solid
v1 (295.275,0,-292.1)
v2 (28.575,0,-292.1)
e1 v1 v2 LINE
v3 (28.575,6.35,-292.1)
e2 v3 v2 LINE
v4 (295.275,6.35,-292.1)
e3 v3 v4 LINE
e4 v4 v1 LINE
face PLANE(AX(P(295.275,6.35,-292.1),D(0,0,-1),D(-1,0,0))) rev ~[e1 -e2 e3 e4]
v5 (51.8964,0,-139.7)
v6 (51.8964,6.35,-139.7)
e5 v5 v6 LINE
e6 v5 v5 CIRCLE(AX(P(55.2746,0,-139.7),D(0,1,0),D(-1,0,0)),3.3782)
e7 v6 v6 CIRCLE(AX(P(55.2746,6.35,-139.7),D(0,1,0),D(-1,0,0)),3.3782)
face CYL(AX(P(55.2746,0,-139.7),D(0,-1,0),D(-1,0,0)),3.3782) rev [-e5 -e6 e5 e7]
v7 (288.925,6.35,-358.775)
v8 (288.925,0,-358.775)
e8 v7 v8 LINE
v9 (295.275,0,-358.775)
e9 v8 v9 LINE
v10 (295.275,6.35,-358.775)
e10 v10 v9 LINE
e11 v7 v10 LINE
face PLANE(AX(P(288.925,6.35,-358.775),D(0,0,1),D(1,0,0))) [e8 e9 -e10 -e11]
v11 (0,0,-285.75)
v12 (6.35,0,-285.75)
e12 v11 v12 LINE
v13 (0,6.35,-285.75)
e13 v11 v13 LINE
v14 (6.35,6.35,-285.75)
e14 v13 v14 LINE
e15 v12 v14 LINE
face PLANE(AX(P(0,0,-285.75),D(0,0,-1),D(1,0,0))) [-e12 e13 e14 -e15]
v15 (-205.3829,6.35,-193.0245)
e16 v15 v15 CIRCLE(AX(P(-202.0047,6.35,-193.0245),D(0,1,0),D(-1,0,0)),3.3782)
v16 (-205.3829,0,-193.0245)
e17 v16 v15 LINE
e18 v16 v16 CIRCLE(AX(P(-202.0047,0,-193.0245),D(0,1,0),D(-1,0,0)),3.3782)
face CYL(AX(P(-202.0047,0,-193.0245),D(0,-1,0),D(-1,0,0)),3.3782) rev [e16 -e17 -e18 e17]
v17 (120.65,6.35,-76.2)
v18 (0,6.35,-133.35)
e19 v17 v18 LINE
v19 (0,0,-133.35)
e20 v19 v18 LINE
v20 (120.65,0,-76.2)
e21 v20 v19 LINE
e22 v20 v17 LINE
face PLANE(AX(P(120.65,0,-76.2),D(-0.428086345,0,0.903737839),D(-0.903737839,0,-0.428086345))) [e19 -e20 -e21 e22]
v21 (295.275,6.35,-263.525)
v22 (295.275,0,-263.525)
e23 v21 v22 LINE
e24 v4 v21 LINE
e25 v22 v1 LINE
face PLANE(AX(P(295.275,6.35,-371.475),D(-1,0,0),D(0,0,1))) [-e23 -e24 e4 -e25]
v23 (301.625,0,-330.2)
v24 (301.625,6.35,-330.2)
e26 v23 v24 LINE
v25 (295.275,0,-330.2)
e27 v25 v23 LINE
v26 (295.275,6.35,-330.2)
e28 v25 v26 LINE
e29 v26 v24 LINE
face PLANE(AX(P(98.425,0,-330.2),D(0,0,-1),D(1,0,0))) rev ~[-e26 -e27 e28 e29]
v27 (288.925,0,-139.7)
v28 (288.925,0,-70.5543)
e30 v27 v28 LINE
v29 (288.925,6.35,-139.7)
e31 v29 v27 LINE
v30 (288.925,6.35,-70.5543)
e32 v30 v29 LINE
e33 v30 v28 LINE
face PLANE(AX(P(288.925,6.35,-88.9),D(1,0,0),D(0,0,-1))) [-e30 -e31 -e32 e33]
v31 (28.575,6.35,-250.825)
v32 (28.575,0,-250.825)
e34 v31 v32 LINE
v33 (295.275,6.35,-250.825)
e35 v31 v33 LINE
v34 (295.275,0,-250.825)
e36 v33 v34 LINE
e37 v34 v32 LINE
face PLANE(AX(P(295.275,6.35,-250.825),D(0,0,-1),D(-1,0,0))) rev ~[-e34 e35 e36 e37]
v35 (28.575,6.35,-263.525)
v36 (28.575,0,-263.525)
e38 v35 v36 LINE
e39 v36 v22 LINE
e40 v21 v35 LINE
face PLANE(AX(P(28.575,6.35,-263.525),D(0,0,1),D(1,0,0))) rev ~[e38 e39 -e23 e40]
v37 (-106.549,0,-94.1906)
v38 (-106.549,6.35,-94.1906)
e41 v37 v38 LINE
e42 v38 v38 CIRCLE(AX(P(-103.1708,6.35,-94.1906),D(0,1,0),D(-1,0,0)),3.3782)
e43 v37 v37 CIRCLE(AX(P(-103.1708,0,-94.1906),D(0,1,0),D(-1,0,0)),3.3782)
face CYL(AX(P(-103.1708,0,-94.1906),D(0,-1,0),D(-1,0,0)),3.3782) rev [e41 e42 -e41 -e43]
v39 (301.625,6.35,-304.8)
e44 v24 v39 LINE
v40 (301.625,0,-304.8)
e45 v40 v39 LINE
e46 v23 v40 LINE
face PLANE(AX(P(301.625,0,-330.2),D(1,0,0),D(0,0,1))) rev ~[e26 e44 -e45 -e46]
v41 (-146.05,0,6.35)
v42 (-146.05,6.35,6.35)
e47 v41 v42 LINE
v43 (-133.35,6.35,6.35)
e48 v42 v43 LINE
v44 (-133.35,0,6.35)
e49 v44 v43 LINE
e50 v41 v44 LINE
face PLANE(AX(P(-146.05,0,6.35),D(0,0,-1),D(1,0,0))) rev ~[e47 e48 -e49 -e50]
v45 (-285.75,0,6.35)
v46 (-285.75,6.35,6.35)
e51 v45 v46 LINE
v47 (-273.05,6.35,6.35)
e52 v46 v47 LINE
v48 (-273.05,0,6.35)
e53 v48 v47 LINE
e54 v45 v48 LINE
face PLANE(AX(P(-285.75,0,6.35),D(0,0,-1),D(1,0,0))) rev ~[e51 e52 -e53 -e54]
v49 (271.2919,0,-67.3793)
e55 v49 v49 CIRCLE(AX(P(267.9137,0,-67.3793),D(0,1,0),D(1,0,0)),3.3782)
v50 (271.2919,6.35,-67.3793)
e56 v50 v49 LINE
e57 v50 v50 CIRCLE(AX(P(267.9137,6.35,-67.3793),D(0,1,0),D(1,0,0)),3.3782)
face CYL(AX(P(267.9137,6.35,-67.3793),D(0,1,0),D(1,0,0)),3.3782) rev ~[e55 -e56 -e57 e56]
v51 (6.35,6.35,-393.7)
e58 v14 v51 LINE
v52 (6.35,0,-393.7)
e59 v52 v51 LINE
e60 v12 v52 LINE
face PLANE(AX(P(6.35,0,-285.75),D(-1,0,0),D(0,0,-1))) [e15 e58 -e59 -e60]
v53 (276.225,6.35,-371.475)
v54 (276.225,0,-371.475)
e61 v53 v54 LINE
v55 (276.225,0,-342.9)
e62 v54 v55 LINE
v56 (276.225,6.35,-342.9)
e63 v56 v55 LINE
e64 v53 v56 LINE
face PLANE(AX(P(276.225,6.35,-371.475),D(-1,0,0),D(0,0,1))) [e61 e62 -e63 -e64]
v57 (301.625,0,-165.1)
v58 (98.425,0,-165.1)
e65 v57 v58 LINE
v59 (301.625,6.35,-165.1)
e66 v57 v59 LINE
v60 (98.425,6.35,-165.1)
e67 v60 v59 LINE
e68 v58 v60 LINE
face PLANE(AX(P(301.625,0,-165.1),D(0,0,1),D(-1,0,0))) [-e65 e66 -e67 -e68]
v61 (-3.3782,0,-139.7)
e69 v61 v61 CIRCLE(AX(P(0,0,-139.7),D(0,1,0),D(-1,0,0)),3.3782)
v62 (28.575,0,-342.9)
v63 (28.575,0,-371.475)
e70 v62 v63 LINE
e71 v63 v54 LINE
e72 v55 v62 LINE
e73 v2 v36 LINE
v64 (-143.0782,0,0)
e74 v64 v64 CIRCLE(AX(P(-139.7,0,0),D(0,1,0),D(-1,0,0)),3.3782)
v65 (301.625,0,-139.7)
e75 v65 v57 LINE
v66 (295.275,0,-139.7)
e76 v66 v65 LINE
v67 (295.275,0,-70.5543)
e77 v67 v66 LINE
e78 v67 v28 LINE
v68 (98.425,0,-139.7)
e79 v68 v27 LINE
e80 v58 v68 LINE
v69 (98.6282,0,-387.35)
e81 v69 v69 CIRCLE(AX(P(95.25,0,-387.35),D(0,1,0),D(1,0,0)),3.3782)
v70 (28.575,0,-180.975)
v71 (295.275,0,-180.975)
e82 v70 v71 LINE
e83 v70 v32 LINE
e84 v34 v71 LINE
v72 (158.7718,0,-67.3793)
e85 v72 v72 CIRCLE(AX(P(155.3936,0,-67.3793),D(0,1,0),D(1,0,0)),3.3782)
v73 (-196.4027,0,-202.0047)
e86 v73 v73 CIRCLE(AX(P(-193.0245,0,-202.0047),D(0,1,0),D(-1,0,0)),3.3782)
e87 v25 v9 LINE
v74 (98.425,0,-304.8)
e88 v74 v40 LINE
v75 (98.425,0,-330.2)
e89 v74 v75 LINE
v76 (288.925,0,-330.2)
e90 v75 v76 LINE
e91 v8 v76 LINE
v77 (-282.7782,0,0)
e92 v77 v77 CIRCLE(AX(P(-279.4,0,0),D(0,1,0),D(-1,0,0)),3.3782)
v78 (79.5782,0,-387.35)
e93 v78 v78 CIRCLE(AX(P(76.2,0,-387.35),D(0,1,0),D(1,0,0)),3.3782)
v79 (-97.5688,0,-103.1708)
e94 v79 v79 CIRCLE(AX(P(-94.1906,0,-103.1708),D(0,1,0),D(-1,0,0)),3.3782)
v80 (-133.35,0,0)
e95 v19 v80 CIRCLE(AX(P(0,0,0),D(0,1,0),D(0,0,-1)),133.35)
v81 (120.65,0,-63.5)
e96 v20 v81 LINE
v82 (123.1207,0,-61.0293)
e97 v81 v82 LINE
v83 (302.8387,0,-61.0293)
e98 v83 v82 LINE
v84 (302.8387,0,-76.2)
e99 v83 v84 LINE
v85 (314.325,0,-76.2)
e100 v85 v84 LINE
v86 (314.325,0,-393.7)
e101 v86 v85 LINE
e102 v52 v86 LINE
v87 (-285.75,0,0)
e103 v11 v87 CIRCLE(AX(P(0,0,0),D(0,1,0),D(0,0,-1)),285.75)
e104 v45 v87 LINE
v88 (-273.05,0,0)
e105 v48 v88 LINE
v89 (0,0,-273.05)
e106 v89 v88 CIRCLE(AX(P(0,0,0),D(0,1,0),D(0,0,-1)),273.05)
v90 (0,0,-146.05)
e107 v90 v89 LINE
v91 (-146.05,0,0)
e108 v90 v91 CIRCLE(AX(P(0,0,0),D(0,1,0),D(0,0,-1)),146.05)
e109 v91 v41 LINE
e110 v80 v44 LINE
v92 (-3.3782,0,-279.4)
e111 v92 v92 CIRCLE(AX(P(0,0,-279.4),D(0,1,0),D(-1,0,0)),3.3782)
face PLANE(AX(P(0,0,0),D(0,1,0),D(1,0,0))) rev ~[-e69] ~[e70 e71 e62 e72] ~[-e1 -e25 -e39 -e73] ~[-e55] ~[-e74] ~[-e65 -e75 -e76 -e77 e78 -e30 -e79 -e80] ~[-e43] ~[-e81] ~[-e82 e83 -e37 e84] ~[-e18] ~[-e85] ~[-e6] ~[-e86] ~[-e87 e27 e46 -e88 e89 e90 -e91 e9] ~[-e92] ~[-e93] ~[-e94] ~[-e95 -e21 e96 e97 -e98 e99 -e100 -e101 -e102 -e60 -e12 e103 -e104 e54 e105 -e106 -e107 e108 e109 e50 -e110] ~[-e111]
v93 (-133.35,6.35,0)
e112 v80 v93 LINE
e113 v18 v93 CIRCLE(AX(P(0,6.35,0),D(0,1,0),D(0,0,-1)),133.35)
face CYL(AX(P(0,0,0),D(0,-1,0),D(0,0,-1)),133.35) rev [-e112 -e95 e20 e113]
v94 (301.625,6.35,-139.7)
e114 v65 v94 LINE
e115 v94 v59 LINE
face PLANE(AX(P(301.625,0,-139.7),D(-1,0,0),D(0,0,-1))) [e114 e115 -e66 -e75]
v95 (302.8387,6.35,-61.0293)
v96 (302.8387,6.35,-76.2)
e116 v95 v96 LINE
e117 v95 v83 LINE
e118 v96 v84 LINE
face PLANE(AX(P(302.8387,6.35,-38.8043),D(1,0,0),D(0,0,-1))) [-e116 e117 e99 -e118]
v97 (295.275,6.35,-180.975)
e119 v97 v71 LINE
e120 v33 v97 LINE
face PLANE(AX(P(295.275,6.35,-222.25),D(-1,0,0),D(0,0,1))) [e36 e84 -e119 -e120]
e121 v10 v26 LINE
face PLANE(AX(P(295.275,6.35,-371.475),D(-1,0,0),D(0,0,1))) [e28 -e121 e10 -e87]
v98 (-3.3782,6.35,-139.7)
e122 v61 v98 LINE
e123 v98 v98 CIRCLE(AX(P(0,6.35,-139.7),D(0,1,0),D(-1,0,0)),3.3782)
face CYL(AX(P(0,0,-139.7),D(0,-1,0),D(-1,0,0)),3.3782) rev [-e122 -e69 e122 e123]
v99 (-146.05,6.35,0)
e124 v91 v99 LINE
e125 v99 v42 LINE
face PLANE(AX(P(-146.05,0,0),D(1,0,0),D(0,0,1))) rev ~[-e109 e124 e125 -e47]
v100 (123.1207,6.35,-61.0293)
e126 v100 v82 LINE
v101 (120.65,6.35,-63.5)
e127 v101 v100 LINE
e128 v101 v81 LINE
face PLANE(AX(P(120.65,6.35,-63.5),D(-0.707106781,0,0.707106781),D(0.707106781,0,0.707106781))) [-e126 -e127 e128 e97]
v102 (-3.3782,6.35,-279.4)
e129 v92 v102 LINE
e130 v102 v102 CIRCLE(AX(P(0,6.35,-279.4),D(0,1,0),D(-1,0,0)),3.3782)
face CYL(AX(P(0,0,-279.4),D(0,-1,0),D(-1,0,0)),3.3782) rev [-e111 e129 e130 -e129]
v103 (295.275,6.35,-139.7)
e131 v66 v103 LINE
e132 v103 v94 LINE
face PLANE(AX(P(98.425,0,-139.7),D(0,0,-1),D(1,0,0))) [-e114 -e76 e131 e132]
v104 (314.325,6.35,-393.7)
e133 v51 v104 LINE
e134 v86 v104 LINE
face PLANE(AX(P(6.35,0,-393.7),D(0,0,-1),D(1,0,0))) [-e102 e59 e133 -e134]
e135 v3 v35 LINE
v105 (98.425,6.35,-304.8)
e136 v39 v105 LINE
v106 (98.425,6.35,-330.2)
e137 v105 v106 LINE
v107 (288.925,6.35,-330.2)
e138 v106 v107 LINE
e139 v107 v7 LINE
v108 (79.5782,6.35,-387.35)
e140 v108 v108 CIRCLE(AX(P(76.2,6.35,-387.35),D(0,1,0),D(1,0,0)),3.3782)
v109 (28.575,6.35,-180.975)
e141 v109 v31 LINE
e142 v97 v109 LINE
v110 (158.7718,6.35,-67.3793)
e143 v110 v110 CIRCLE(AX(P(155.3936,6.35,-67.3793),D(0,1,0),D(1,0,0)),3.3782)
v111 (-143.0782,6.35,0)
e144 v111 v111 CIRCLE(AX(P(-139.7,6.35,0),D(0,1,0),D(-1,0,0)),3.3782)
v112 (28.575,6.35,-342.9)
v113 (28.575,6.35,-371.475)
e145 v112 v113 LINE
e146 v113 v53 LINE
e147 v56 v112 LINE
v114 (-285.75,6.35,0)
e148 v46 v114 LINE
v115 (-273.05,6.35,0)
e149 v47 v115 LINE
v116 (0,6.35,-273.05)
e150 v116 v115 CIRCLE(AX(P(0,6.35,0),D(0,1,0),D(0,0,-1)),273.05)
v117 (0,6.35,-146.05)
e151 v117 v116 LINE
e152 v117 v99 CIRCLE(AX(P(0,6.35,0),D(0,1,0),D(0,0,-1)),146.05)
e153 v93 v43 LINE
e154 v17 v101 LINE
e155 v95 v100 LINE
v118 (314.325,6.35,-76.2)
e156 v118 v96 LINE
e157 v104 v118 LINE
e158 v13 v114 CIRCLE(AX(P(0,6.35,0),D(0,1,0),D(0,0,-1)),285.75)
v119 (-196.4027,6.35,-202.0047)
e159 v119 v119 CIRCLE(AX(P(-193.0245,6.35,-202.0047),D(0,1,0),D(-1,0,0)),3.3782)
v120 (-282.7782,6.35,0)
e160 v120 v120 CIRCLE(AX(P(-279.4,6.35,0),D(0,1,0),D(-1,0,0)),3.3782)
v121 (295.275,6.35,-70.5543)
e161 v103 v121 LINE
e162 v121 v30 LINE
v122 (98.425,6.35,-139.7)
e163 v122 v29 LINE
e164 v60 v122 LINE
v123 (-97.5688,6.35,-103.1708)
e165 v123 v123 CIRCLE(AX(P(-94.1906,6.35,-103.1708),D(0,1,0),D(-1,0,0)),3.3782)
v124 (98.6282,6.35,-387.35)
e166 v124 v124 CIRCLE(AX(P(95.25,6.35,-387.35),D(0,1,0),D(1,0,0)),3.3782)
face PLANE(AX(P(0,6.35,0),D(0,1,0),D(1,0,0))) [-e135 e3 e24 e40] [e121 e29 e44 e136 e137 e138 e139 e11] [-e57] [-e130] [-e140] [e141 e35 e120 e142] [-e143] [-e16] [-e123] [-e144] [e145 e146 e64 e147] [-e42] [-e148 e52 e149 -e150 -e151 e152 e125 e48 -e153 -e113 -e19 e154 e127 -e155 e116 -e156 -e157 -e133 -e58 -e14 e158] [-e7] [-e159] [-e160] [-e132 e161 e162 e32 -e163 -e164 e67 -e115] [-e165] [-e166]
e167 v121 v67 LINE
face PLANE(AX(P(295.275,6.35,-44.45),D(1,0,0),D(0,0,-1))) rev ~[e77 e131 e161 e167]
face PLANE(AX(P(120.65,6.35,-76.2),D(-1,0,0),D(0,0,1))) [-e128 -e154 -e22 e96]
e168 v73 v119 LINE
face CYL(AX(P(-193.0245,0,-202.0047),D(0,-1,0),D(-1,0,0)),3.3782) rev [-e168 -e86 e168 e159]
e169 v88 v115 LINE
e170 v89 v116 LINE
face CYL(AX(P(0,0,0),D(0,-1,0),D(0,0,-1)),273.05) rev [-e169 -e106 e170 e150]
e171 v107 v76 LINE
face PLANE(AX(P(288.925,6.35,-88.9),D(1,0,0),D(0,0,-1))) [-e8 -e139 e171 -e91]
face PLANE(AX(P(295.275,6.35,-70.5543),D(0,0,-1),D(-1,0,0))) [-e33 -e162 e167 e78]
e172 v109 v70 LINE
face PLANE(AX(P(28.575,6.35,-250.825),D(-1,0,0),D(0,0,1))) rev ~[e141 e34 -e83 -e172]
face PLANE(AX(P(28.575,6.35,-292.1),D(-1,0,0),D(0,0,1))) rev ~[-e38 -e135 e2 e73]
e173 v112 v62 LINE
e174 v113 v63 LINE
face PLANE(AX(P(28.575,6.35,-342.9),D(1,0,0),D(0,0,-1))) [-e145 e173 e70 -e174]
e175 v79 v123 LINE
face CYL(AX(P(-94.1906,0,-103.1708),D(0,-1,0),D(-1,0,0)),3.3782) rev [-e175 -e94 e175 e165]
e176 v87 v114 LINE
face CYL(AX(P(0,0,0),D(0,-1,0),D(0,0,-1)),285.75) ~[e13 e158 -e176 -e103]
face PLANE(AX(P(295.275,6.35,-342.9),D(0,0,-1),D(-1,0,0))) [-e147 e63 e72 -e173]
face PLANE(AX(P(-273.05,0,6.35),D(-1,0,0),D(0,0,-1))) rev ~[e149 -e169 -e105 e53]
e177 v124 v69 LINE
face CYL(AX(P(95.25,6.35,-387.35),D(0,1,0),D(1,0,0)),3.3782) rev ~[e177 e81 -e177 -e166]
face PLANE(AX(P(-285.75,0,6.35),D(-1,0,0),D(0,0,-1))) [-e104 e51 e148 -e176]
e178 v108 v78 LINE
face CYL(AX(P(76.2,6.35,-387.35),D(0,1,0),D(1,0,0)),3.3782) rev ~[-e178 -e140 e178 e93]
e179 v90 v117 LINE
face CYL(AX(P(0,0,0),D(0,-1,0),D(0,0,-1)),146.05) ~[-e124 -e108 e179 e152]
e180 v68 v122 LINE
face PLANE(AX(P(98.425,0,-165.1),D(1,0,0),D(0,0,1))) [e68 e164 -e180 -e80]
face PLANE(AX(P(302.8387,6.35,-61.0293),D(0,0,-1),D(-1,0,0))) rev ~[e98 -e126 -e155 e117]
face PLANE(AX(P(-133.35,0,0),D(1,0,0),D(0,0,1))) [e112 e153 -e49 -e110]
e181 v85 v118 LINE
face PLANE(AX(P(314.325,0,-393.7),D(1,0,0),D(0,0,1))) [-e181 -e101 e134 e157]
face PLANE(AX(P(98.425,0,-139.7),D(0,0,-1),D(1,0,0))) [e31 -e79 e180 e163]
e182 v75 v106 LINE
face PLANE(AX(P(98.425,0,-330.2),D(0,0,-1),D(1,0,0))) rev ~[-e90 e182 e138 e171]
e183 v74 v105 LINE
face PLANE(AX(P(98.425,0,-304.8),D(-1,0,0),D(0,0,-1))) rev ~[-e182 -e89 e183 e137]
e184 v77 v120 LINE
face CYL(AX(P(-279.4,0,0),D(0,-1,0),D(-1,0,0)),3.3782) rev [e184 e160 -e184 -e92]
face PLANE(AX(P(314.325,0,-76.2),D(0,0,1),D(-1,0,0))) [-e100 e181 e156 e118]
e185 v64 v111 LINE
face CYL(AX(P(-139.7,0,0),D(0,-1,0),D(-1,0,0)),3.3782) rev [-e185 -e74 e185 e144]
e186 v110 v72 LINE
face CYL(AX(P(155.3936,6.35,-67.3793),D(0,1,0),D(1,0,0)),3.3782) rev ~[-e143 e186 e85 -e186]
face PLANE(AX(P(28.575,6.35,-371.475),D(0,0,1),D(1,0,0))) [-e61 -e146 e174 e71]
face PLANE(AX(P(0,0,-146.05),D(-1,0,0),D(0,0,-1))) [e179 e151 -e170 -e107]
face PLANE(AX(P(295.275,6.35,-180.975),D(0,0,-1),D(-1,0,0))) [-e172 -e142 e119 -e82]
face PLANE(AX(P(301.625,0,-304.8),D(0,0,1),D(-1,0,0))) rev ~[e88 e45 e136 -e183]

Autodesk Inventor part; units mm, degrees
ref_plane "YZ Plane" through (0, 0, 0) normal (1, 0, 0) x (0, 1, 0)
ref_plane "XZ Plane" through (0, 0, 0) normal (0, 1, 0) x (-1, 0, 0)
ref_plane "XY Plane" through (0, 0, 0) normal (0, 0, 1) x (1, 0, 0)
sketch "Sketch1" plane through (0, 0, 0) normal (0, 1, 0) x (-1, 0, 0)
  arc A0 (0, -273.05) -> (273.05, 0) centre (0, 0) ccw
  arc A1 (0, -285.75) -> (285.75, 0) centre (0, 0) ccw
  arc A2 (0, -146.05) -> (146.05, 0) centre (0, 0) ccw
  arc A3 (0, -133.35) -> (133.35, 0) centre (0, 0) ccw
  line L0 (0, -285.75) -> (-6.35, -285.75)
  line L1 (146.05, 0) -> (146.05, 6.35)
  line L2 (133.35, 0) -> (133.35, 6.35)
  line L3 (273.05, 6.35) -> (273.05, 0)
  line L4 (285.75, 6.35) -> (285.75, 0)
  circle A4 centre (103.1708, -94.1906) radius 3.3782
  circle A5 centre (94.1906, -103.1708) radius 3.3782
  circle A6 centre (279.4, 0) radius 3.3782
  circle A7 centre (139.7, 0) radius 3.3782
  circle A8 centre (202.0047, -193.0245) radius 3.3782
  circle A9 centre (193.0245, -202.0047) radius 3.3782
  circle A10 centre (0, -279.4) radius 3.3782
  circle A11 centre (0, -139.7) radius 3.3782
  circle A12 centre (-55.2746, -139.7) radius 3.3782
  circle A13 centre (-78.3684, -279.4) radius 3.3782
  line L5 (285.75, 6.35) -> (273.05, 6.35)
  line L6 (146.05, 6.35) -> (133.35, 6.35)
  line L7 (-314.96, -285.75) -> (-314.96, -273.05)
  line L8 (-101.6, -133.35) -> (-127, -133.35)
  line L9 (-127, -146.05) -> (-101.6, -146.05)
  line L10 (-314.96, -146.05) -> (-314.96, -133.35)
  line L11 (-6.35, -285.75) -> (-6.35, -393.7)
  line L12 (-6.35, -393.7) -> (-314.325, -393.7)
  line L13 (-314.325, -393.7) -> (-314.325, -76.2)
  line L14 (-314.325, -76.2) -> (-120.65, -76.2)
  line L15 (-120.65, -76.2) -> (0, -133.35)
  line L16 (0, -285.75) -> (-6.35, -285.75)
  line L17 (0, -146.05) -> (0, -273.05)
  dimension "d10" = 12.7
  dimension "d11" = 12.7
  dimension "d13" = 12.7
  dimension "d14" = 6.7564
  dimension "d15" = 6.7564
  dimension "d16" = 6.7564
  dimension "d18" = 6.7564
  dimension "d20" = 6.35
  dimension "d21" = 6.7564
  dimension "d22" = 6.7564
  dimension "d23" = 6.7564
  dimension "d26" = 6.7564
  dimension "d30" = 6.7564
  dimension "d32" = 6.7564
  dimension "d66" = 25.4
  dimension "d67" = 0
  dimension "d72" = 12.7
  dimension "d81" = 107.95
  dimension "d82" = 133.35
  dimension "d83" = 279.4
  dimension "d84" = 6.35
  dimension "d85" = 317.5
  dimension "d86" = 193.675
  dimension "d87" = 55.2746
  dimension "d88" = 139.7
  dimension "d91" = 307.975
extrude "Extrusion7" add sketch "Sketch1" along normal blind 6.35
sketch "Sketch7" plane through (0, 0, 0) normal (0, -1, 0) x (1, 0, 0)
  line L0 (0, -273.05) -> (0, -146.05) projected
  line L1 (314.325, -76.2) -> (314.325, -393.7) projected
  line L2 (314.325, -234.95) -> (0, -234.95)
  line L3 (301.625, -139.7) -> (301.625, -165.1)
  line L4 (301.625, -165.1) -> (98.425, -165.1)
  line L5 (98.425, -165.1) -> (98.425, -139.7)
  line L6 (98.425, -139.7) -> (301.625, -139.7)
  line L7 (301.625, -330.2) -> (301.625, -304.8)
  line L8 (301.625, -304.8) -> (98.425, -304.8)
  line L9 (98.425, -304.8) -> (98.425, -330.2)
  line L10 (98.425, -330.2) -> (301.625, -330.2)
  dimension "d92" = 25.4
  dimension "d93" = 203.2
  dimension "d94" = 12.7
  dimension "d95" = 69.85
extrude "Extrusion8" cut sketch "Sketch7" against normal blind 6.35
sketch "Sketch8" plane through (0, 6.35, 0) normal (0, 1, 0) x (1, 0, 0)
  line L0 (98.425, 165.1) -> (301.625, 165.1) projected
  line L1 (301.625, 304.8) -> (98.425, 304.8) projected
  circle A0 centre (78.3684, 279.4) radius 3.3782 projected
  line L2 (314.325, 76.2) -> (314.325, 393.7) projected
  line L3 (314.325, 393.7) -> (6.35, 393.7) projected
  line L4 (0, 273.05) -> (0, 146.05) projected
  line L5 (295.275, 367.3082) -> (295.275, 342.9)
  line L6 (295.275, 342.9) -> (28.575, 342.9)
  line L7 (28.575, 342.9) -> (28.575, 371.475)
  line L8 (28.575, 371.475) -> (295.275, 371.475)
  line L9 (295.275, 371.475) -> (295.275, 367.3082)
  line L10 (295.275, 292.1) -> (28.575, 292.1)
  line L11 (28.575, 292.1) -> (28.575, 263.525)
  line L12 (28.575, 263.525) -> (295.275, 263.525)
  line L13 (295.275, 263.525) -> (295.275, 292.1)
  line L14 (295.275, 250.825) -> (28.575, 250.825)
  line L15 (28.575, 250.825) -> (28.575, 222.25)
  line L16 (28.575, 222.25) -> (295.275, 222.25)
  line L17 (295.275, 222.25) -> (295.275, 250.825)
  line L18 (295.275, 209.55) -> (295.275, 180.975)
  line L19 (295.275, 180.975) -> (28.575, 180.975)
  line L20 (28.575, 180.975) -> (28.575, 209.55)
  line L21 (28.575, 209.55) -> (295.275, 209.55)
  dimension "d100" = 90
  dimension "d101" = 22.225
  dimension "d102" = 19.05
  dimension "d103" = 28.575
  dimension "d104" = 266.7
  dimension "d105" = 28.575
  dimension "d106" = 19.05
  dimension "d107" = 12.7
  dimension "d108" = 266.7
  dimension "d109" = 28.575
  dimension "d110" = 28.575
  dimension "d111" = 12.7
  dimension "d112" = 12.7
  dimension "d113" = 266.7
  dimension "d114" = 19.05
  dimension "d115" = 19.05
extrude "Extrusion9" cut sketch "Sketch8" against normal blind 25.4
sketch "Sketch9" plane through (0, 6.35, 0) normal (0, 1, 0) x (1, 0, 0)
  line L0 (314.325, 76.2) -> (314.325, 393.7) projected
  line L1 (295.275, 371.475) -> (295.275, 88.9)
  line L2 (295.275, 88.9) -> (288.925, 88.9)
  line L3 (288.925, 88.9) -> (288.925, 381)
  line L4 (288.925, 381) -> (295.275, 381)
  line L5 (295.275, 381) -> (295.275, 371.475)
  dimension "d118" = 282.575
  dimension "d119" = 6.35
  dimension "d120" = 292.1
extrude "Extrusion10" cut sketch "Sketch9" against normal blind 25.4
sketch "Sketch10" plane through (0, 6.35, 0) normal (0, 1, 0) x (1, 0, 0)
  line L0 (120.65, 76.2) -> (314.325, 76.2) projected
  line L1 (0, 273.05) -> (0, 146.05) projected
  line L2 (120.65, 76.2) -> (120.65, 63.5)
  line L3 (120.65, 63.5) -> (145.3457, 38.8043)
  line L4 (145.3457, 38.8043) -> (302.8387, 38.8043)
  line L5 (302.8387, 38.8043) -> (302.8387, 76.2)
  dimension "d123" = 12.7
  dimension "d124" = 34.925
  dimension "d125" = 135
extrude "Extrusion11" add sketch "Sketch10" against normal blind 6.35
sketch "Sketch13" plane through (0, 6.35, 0) normal (0, 1, 0) x (1, 0, 0)
  line L0 (288.925, 88.9) -> (288.925, 139.7) projected
  line L1 (288.925, 139.7) -> (98.425, 139.7) projected
  line L2 (288.925, 381) -> (295.275, 381) projected
  line L3 (295.275, 88.9) -> (288.925, 88.9) projected
  line L4 (145.3457, 38.8043) -> (302.8387, 38.8043) projected
  line L5 (302.8387, 38.8043) -> (302.8387, 76.2) projected
  line L6 (0, 273.05) -> (0, 146.05) projected
  line L7 (98.425, 127) -> (98.425, 101.6)
  line L8 (98.425, 101.6) -> (288.925, 101.6)
  line L9 (98.425, 127) -> (288.925, 127)
  line L10 (288.925, 88.9) -> (288.925, 44.45)
  line L11 (288.925, 44.45) -> (295.275, 44.45)
  line L12 (295.275, 44.45) -> (295.275, 88.9)
  dimension "d135" = 25.4
  dimension "d136" = 336.55
  dimension "d137" = 12.7
extrude "Extrusion13" cut sketch "Sketch13" against normal blind 25.4
sketch "Sketch14" plane through (0, 6.35, 0) normal (0, 1, 0) x (1, 0, 0)
  line L0 (311.15, 79.375) -> (304.8, 79.375) projected
  line L1 (304.8, 79.375) -> (304.8, 85.725) projected
  line L2 (304.8, 85.725) -> (311.15, 85.725) projected
  line L3 (311.15, 85.725) -> (311.15, 79.375) projected
  line L4 (6.35, 381) -> (301.625, 381) projected
  line L5 (301.625, 381) -> (301.625, 76.2) projected
  line L6 (301.625, 76.2) -> (314.325, 76.2) projected
  line L7 (314.325, 76.2) -> (314.325, 393.7) projected
  line L8 (314.325, 393.7) -> (6.35, 393.7) projected
  line L9 (6.35, 393.7) -> (6.35, 381) projected
  line L10 (311.15, 390.525) -> (311.15, 384.175) projected
  line L11 (311.15, 384.175) -> (304.8, 384.175) projected
  line L12 (304.8, 384.175) -> (304.8, 390.525) projected
  line L13 (304.8, 390.525) -> (311.15, 390.525) projected
  line L14 (15.875, 384.175) -> (9.525, 384.175) projected
  line L15 (9.525, 384.175) -> (9.525, 390.525) projected
  line L16 (9.525, 390.525) -> (15.875, 390.525) projected
  line L17 (15.875, 390.525) -> (15.875, 384.175) projected
  line L18 (145.3457, 38.8043) -> (302.8387, 38.8043) projected
  line L19 (301.625, 139.7) -> (295.275, 139.7) projected
  line L20 (152.2186, 54.6793) -> (152.2186, 48.3293)
  line L21 (152.2186, 48.3293) -> (158.5686, 48.3293)
  line L22 (158.5686, 48.3293) -> (158.5686, 54.6793)
  line L23 (158.5686, 54.6793) -> (152.2186, 54.6793)
  dimension "d146" = 6.35
  dimension "d148" = 6.35
  dimension "d149" = 9.525
extrude "Extrusion15" cut sketch "Sketch14" against normal blind 25.4 contours L23 L22 L21 L20
sketch "Sketch16" plane through (0, 6.35, 0) normal (0, 1, 0) x (1, 0, 0)
  line L0 (288.925, 165.1) -> (288.925, 180.975) projected
  line L1 (288.925, 209.55) -> (288.925, 222.25) projected
  line L2 (288.925, 250.825) -> (288.925, 263.525) projected
  line L3 (288.925, 292.1) -> (288.925, 304.8) projected
  line L4 (295.275, 304.8) -> (295.275, 165.1) projected
  line L5 (295.275, 165.1) -> (301.625, 165.1) projected
  line L6 (288.925, 165.1) -> (295.275, 165.1)
  line L7 (288.925, 180.975) -> (295.275, 180.975)
  line L8 (288.925, 222.25) -> (295.275, 222.25)
  line L9 (288.925, 209.55) -> (295.275, 209.55)
  line L10 (288.925, 304.8) -> (295.275, 304.8)
  line L11 (288.925, 292.1) -> (295.275, 292.1)
  line L12 (288.925, 263.525) -> (295.275, 263.525)
  line L13 (288.925, 250.825) -> (295.275, 250.825)
extrude "Extrusion16" add sketch "Sketch16" against normal blind 6.35
sketch "Sketch17" plane through (0, 6.35, 0) normal (0, 1, 0) x (1, 0, 0)
  line L0 (288.925, 44.45) -> (288.925, 101.6) projected
  line L1 (288.925, 101.6) -> (98.425, 101.6) projected
  line L2 (98.425, 127) -> (288.925, 127) projected
  line L3 (288.925, 342.9) -> (28.575, 342.9) projected
  line L4 (28.575, 371.475) -> (288.925, 371.475) projected
  line L5 (288.925, 127) -> (288.925, 101.6)
  line L6 (276.225, 127) -> (276.225, 101.6)
  line L7 (288.925, 342.9) -> (288.925, 371.475)
  line L8 (276.225, 371.475) -> (276.225, 342.9)
  dimension "d155" = 12.7
  dimension "d156" = 12.7
extrude "Extrusion17" add sketch "Sketch17" against normal blind 6.35
sketch "Sketch18" plane through (0, 6.35, 0) normal (0, 1, 0) x (1, 0, 0)
  line L0 (288.925, 44.45) -> (288.925, 139.7) projected
  line L1 (295.275, 139.7) -> (295.275, 44.45) projected
  line L2 (295.275, 44.45) -> (288.925, 44.45) projected
  line L3 (145.3457, 38.8043) -> (302.8387, 38.8043) projected
  line L4 (295.275, 70.5543) -> (288.925, 70.5543)
  dimension "d159" = 31.75
extrude "Extrusion18" add sketch "Sketch18" against normal blind 6.35
sketch "Sketch19" plane through (0, 6.35, 0) normal (0, 1, 0) x (1, 0, 0)
  line L0 (314.325, 393.7) -> (6.35, 393.7) projected
  line L1 (6.35, 393.7) -> (6.35, 285.75) projected
  circle A0 centre (76.2, 387.35) radius 3.3782
  dimension "d162" = 6.7564
  dimension "d164" = 6.35
  dimension "d165" = 69.85
extrude "Extrusion19" cut sketch "Sketch19" against normal blind 25.4
sketch "Sketch20" plane through (0, 6.35, 0) normal (0, 1, 0) x (1, 0, 0)
  circle A0 centre (95.25, 387.35) radius 3.3782 projected
extrude "Extrusion20" cut sketch "Sketch20" against normal blind 25.4
sketch "Sketch21" plane through (0, 6.35, 0) normal (0, 1, 0) x (1, 0, 0)
  line L0 (158.5686, 54.6793) -> (158.5686, 48.3293) projected
  line L1 (145.3457, 38.8043) -> (302.8387, 38.8043) projected
  line L2 (302.8387, 38.8043) -> (302.8387, 76.2) projected
  circle A0 centre (155.3936, 67.3793) radius 3.3782
  circle A1 centre (267.9137, 67.3793) radius 3.3782
  dimension "d170" = 6.7564
  dimension "d171" = 6.7564
  dimension "d172" = 28.575
  dimension "d173" = 34.925
  dimension "d174" = 28.575
  dimension "d176" = 3.175
extrude "Extrusion21" cut sketch "Sketch21" against normal blind 25.4
sketch "Sketch22" plane through (0, 6.35, 0) normal (0, 1, 0) x (1, 0, 0)
  line L0 (288.925, 330.2) -> (288.925, 381) projected
  line L1 (288.925, 381) -> (295.275, 381) projected
  line L2 (295.275, 381) -> (295.275, 330.2) projected
  line L3 (288.925, 358.775) -> (295.275, 358.775)
  dimension "d179" = 22.225
extrude "Extrusion22" add sketch "Sketch22" against normal blind 6.35
sketch "Sketch23" plane through (0, 6.35, 0) normal (0, 1, 0) x (1, 0, 0)
  line L0 (158.5686, 48.3293) -> (152.2186, 48.3293) projected
  line L1 (152.2186, 48.3293) -> (152.2186, 54.6793) projected
  line L2 (152.2186, 54.6793) -> (158.5686, 54.6793) projected
  line L3 (158.5686, 54.6793) -> (158.5686, 48.3293) projected
  line L4 (120.65, 63.5) -> (145.3457, 38.8043) projected
  line L5 (145.3457, 38.8043) -> (302.8387, 38.8043) projected
  line L6 (302.8387, 38.8043) -> (302.8387, 76.2) projected
  line L7 (28.575, 371.475) -> (276.225, 371.475) projected
  line L8 (302.8387, 61.0293) -> (123.1207, 61.0293)
  dimension "d182" = 22.225
extrude "Extrusion23" cut sketch "Sketch23" against normal blind 6.35
sketch "Sketch24" plane through (0, 6.35, 0) normal (0, 1, 0) x (1, 0, 0)
  line L0 (276.225, 127) -> (276.225, 101.6) projected
  line L1 (276.225, 101.6) -> (98.425, 101.6) projected
  line L2 (98.425, 101.6) -> (98.425, 127) projected
  line L3 (98.425, 127) -> (276.225, 127) projected
extrude "Extrusion24" add sketch "Sketch24" against normal blind 6.35
sketch "Sketch25" plane through (0, 6.35, 0) normal (0, 1, 0) x (1, 0, 0)
  line L0 (295.275, 222.25) -> (28.575, 222.25) projected
  line L1 (295.275, 209.55) -> (295.275, 180.975) projected
  line L2 (28.575, 209.55) -> (295.275, 209.55) projected
  line L3 (295.275, 70.5543) -> (288.925, 70.5543) projected
  line L4 (28.575, 209.55) -> (28.575, 222.25)
  line L5 (295.275, 222.25) -> (295.275, 209.55)
extrude "Extrusion25" cut sketch "Sketch25" against normal blind 25.4
properties part number "Runner Rails v2" material "Polycarbonate, Clear"
